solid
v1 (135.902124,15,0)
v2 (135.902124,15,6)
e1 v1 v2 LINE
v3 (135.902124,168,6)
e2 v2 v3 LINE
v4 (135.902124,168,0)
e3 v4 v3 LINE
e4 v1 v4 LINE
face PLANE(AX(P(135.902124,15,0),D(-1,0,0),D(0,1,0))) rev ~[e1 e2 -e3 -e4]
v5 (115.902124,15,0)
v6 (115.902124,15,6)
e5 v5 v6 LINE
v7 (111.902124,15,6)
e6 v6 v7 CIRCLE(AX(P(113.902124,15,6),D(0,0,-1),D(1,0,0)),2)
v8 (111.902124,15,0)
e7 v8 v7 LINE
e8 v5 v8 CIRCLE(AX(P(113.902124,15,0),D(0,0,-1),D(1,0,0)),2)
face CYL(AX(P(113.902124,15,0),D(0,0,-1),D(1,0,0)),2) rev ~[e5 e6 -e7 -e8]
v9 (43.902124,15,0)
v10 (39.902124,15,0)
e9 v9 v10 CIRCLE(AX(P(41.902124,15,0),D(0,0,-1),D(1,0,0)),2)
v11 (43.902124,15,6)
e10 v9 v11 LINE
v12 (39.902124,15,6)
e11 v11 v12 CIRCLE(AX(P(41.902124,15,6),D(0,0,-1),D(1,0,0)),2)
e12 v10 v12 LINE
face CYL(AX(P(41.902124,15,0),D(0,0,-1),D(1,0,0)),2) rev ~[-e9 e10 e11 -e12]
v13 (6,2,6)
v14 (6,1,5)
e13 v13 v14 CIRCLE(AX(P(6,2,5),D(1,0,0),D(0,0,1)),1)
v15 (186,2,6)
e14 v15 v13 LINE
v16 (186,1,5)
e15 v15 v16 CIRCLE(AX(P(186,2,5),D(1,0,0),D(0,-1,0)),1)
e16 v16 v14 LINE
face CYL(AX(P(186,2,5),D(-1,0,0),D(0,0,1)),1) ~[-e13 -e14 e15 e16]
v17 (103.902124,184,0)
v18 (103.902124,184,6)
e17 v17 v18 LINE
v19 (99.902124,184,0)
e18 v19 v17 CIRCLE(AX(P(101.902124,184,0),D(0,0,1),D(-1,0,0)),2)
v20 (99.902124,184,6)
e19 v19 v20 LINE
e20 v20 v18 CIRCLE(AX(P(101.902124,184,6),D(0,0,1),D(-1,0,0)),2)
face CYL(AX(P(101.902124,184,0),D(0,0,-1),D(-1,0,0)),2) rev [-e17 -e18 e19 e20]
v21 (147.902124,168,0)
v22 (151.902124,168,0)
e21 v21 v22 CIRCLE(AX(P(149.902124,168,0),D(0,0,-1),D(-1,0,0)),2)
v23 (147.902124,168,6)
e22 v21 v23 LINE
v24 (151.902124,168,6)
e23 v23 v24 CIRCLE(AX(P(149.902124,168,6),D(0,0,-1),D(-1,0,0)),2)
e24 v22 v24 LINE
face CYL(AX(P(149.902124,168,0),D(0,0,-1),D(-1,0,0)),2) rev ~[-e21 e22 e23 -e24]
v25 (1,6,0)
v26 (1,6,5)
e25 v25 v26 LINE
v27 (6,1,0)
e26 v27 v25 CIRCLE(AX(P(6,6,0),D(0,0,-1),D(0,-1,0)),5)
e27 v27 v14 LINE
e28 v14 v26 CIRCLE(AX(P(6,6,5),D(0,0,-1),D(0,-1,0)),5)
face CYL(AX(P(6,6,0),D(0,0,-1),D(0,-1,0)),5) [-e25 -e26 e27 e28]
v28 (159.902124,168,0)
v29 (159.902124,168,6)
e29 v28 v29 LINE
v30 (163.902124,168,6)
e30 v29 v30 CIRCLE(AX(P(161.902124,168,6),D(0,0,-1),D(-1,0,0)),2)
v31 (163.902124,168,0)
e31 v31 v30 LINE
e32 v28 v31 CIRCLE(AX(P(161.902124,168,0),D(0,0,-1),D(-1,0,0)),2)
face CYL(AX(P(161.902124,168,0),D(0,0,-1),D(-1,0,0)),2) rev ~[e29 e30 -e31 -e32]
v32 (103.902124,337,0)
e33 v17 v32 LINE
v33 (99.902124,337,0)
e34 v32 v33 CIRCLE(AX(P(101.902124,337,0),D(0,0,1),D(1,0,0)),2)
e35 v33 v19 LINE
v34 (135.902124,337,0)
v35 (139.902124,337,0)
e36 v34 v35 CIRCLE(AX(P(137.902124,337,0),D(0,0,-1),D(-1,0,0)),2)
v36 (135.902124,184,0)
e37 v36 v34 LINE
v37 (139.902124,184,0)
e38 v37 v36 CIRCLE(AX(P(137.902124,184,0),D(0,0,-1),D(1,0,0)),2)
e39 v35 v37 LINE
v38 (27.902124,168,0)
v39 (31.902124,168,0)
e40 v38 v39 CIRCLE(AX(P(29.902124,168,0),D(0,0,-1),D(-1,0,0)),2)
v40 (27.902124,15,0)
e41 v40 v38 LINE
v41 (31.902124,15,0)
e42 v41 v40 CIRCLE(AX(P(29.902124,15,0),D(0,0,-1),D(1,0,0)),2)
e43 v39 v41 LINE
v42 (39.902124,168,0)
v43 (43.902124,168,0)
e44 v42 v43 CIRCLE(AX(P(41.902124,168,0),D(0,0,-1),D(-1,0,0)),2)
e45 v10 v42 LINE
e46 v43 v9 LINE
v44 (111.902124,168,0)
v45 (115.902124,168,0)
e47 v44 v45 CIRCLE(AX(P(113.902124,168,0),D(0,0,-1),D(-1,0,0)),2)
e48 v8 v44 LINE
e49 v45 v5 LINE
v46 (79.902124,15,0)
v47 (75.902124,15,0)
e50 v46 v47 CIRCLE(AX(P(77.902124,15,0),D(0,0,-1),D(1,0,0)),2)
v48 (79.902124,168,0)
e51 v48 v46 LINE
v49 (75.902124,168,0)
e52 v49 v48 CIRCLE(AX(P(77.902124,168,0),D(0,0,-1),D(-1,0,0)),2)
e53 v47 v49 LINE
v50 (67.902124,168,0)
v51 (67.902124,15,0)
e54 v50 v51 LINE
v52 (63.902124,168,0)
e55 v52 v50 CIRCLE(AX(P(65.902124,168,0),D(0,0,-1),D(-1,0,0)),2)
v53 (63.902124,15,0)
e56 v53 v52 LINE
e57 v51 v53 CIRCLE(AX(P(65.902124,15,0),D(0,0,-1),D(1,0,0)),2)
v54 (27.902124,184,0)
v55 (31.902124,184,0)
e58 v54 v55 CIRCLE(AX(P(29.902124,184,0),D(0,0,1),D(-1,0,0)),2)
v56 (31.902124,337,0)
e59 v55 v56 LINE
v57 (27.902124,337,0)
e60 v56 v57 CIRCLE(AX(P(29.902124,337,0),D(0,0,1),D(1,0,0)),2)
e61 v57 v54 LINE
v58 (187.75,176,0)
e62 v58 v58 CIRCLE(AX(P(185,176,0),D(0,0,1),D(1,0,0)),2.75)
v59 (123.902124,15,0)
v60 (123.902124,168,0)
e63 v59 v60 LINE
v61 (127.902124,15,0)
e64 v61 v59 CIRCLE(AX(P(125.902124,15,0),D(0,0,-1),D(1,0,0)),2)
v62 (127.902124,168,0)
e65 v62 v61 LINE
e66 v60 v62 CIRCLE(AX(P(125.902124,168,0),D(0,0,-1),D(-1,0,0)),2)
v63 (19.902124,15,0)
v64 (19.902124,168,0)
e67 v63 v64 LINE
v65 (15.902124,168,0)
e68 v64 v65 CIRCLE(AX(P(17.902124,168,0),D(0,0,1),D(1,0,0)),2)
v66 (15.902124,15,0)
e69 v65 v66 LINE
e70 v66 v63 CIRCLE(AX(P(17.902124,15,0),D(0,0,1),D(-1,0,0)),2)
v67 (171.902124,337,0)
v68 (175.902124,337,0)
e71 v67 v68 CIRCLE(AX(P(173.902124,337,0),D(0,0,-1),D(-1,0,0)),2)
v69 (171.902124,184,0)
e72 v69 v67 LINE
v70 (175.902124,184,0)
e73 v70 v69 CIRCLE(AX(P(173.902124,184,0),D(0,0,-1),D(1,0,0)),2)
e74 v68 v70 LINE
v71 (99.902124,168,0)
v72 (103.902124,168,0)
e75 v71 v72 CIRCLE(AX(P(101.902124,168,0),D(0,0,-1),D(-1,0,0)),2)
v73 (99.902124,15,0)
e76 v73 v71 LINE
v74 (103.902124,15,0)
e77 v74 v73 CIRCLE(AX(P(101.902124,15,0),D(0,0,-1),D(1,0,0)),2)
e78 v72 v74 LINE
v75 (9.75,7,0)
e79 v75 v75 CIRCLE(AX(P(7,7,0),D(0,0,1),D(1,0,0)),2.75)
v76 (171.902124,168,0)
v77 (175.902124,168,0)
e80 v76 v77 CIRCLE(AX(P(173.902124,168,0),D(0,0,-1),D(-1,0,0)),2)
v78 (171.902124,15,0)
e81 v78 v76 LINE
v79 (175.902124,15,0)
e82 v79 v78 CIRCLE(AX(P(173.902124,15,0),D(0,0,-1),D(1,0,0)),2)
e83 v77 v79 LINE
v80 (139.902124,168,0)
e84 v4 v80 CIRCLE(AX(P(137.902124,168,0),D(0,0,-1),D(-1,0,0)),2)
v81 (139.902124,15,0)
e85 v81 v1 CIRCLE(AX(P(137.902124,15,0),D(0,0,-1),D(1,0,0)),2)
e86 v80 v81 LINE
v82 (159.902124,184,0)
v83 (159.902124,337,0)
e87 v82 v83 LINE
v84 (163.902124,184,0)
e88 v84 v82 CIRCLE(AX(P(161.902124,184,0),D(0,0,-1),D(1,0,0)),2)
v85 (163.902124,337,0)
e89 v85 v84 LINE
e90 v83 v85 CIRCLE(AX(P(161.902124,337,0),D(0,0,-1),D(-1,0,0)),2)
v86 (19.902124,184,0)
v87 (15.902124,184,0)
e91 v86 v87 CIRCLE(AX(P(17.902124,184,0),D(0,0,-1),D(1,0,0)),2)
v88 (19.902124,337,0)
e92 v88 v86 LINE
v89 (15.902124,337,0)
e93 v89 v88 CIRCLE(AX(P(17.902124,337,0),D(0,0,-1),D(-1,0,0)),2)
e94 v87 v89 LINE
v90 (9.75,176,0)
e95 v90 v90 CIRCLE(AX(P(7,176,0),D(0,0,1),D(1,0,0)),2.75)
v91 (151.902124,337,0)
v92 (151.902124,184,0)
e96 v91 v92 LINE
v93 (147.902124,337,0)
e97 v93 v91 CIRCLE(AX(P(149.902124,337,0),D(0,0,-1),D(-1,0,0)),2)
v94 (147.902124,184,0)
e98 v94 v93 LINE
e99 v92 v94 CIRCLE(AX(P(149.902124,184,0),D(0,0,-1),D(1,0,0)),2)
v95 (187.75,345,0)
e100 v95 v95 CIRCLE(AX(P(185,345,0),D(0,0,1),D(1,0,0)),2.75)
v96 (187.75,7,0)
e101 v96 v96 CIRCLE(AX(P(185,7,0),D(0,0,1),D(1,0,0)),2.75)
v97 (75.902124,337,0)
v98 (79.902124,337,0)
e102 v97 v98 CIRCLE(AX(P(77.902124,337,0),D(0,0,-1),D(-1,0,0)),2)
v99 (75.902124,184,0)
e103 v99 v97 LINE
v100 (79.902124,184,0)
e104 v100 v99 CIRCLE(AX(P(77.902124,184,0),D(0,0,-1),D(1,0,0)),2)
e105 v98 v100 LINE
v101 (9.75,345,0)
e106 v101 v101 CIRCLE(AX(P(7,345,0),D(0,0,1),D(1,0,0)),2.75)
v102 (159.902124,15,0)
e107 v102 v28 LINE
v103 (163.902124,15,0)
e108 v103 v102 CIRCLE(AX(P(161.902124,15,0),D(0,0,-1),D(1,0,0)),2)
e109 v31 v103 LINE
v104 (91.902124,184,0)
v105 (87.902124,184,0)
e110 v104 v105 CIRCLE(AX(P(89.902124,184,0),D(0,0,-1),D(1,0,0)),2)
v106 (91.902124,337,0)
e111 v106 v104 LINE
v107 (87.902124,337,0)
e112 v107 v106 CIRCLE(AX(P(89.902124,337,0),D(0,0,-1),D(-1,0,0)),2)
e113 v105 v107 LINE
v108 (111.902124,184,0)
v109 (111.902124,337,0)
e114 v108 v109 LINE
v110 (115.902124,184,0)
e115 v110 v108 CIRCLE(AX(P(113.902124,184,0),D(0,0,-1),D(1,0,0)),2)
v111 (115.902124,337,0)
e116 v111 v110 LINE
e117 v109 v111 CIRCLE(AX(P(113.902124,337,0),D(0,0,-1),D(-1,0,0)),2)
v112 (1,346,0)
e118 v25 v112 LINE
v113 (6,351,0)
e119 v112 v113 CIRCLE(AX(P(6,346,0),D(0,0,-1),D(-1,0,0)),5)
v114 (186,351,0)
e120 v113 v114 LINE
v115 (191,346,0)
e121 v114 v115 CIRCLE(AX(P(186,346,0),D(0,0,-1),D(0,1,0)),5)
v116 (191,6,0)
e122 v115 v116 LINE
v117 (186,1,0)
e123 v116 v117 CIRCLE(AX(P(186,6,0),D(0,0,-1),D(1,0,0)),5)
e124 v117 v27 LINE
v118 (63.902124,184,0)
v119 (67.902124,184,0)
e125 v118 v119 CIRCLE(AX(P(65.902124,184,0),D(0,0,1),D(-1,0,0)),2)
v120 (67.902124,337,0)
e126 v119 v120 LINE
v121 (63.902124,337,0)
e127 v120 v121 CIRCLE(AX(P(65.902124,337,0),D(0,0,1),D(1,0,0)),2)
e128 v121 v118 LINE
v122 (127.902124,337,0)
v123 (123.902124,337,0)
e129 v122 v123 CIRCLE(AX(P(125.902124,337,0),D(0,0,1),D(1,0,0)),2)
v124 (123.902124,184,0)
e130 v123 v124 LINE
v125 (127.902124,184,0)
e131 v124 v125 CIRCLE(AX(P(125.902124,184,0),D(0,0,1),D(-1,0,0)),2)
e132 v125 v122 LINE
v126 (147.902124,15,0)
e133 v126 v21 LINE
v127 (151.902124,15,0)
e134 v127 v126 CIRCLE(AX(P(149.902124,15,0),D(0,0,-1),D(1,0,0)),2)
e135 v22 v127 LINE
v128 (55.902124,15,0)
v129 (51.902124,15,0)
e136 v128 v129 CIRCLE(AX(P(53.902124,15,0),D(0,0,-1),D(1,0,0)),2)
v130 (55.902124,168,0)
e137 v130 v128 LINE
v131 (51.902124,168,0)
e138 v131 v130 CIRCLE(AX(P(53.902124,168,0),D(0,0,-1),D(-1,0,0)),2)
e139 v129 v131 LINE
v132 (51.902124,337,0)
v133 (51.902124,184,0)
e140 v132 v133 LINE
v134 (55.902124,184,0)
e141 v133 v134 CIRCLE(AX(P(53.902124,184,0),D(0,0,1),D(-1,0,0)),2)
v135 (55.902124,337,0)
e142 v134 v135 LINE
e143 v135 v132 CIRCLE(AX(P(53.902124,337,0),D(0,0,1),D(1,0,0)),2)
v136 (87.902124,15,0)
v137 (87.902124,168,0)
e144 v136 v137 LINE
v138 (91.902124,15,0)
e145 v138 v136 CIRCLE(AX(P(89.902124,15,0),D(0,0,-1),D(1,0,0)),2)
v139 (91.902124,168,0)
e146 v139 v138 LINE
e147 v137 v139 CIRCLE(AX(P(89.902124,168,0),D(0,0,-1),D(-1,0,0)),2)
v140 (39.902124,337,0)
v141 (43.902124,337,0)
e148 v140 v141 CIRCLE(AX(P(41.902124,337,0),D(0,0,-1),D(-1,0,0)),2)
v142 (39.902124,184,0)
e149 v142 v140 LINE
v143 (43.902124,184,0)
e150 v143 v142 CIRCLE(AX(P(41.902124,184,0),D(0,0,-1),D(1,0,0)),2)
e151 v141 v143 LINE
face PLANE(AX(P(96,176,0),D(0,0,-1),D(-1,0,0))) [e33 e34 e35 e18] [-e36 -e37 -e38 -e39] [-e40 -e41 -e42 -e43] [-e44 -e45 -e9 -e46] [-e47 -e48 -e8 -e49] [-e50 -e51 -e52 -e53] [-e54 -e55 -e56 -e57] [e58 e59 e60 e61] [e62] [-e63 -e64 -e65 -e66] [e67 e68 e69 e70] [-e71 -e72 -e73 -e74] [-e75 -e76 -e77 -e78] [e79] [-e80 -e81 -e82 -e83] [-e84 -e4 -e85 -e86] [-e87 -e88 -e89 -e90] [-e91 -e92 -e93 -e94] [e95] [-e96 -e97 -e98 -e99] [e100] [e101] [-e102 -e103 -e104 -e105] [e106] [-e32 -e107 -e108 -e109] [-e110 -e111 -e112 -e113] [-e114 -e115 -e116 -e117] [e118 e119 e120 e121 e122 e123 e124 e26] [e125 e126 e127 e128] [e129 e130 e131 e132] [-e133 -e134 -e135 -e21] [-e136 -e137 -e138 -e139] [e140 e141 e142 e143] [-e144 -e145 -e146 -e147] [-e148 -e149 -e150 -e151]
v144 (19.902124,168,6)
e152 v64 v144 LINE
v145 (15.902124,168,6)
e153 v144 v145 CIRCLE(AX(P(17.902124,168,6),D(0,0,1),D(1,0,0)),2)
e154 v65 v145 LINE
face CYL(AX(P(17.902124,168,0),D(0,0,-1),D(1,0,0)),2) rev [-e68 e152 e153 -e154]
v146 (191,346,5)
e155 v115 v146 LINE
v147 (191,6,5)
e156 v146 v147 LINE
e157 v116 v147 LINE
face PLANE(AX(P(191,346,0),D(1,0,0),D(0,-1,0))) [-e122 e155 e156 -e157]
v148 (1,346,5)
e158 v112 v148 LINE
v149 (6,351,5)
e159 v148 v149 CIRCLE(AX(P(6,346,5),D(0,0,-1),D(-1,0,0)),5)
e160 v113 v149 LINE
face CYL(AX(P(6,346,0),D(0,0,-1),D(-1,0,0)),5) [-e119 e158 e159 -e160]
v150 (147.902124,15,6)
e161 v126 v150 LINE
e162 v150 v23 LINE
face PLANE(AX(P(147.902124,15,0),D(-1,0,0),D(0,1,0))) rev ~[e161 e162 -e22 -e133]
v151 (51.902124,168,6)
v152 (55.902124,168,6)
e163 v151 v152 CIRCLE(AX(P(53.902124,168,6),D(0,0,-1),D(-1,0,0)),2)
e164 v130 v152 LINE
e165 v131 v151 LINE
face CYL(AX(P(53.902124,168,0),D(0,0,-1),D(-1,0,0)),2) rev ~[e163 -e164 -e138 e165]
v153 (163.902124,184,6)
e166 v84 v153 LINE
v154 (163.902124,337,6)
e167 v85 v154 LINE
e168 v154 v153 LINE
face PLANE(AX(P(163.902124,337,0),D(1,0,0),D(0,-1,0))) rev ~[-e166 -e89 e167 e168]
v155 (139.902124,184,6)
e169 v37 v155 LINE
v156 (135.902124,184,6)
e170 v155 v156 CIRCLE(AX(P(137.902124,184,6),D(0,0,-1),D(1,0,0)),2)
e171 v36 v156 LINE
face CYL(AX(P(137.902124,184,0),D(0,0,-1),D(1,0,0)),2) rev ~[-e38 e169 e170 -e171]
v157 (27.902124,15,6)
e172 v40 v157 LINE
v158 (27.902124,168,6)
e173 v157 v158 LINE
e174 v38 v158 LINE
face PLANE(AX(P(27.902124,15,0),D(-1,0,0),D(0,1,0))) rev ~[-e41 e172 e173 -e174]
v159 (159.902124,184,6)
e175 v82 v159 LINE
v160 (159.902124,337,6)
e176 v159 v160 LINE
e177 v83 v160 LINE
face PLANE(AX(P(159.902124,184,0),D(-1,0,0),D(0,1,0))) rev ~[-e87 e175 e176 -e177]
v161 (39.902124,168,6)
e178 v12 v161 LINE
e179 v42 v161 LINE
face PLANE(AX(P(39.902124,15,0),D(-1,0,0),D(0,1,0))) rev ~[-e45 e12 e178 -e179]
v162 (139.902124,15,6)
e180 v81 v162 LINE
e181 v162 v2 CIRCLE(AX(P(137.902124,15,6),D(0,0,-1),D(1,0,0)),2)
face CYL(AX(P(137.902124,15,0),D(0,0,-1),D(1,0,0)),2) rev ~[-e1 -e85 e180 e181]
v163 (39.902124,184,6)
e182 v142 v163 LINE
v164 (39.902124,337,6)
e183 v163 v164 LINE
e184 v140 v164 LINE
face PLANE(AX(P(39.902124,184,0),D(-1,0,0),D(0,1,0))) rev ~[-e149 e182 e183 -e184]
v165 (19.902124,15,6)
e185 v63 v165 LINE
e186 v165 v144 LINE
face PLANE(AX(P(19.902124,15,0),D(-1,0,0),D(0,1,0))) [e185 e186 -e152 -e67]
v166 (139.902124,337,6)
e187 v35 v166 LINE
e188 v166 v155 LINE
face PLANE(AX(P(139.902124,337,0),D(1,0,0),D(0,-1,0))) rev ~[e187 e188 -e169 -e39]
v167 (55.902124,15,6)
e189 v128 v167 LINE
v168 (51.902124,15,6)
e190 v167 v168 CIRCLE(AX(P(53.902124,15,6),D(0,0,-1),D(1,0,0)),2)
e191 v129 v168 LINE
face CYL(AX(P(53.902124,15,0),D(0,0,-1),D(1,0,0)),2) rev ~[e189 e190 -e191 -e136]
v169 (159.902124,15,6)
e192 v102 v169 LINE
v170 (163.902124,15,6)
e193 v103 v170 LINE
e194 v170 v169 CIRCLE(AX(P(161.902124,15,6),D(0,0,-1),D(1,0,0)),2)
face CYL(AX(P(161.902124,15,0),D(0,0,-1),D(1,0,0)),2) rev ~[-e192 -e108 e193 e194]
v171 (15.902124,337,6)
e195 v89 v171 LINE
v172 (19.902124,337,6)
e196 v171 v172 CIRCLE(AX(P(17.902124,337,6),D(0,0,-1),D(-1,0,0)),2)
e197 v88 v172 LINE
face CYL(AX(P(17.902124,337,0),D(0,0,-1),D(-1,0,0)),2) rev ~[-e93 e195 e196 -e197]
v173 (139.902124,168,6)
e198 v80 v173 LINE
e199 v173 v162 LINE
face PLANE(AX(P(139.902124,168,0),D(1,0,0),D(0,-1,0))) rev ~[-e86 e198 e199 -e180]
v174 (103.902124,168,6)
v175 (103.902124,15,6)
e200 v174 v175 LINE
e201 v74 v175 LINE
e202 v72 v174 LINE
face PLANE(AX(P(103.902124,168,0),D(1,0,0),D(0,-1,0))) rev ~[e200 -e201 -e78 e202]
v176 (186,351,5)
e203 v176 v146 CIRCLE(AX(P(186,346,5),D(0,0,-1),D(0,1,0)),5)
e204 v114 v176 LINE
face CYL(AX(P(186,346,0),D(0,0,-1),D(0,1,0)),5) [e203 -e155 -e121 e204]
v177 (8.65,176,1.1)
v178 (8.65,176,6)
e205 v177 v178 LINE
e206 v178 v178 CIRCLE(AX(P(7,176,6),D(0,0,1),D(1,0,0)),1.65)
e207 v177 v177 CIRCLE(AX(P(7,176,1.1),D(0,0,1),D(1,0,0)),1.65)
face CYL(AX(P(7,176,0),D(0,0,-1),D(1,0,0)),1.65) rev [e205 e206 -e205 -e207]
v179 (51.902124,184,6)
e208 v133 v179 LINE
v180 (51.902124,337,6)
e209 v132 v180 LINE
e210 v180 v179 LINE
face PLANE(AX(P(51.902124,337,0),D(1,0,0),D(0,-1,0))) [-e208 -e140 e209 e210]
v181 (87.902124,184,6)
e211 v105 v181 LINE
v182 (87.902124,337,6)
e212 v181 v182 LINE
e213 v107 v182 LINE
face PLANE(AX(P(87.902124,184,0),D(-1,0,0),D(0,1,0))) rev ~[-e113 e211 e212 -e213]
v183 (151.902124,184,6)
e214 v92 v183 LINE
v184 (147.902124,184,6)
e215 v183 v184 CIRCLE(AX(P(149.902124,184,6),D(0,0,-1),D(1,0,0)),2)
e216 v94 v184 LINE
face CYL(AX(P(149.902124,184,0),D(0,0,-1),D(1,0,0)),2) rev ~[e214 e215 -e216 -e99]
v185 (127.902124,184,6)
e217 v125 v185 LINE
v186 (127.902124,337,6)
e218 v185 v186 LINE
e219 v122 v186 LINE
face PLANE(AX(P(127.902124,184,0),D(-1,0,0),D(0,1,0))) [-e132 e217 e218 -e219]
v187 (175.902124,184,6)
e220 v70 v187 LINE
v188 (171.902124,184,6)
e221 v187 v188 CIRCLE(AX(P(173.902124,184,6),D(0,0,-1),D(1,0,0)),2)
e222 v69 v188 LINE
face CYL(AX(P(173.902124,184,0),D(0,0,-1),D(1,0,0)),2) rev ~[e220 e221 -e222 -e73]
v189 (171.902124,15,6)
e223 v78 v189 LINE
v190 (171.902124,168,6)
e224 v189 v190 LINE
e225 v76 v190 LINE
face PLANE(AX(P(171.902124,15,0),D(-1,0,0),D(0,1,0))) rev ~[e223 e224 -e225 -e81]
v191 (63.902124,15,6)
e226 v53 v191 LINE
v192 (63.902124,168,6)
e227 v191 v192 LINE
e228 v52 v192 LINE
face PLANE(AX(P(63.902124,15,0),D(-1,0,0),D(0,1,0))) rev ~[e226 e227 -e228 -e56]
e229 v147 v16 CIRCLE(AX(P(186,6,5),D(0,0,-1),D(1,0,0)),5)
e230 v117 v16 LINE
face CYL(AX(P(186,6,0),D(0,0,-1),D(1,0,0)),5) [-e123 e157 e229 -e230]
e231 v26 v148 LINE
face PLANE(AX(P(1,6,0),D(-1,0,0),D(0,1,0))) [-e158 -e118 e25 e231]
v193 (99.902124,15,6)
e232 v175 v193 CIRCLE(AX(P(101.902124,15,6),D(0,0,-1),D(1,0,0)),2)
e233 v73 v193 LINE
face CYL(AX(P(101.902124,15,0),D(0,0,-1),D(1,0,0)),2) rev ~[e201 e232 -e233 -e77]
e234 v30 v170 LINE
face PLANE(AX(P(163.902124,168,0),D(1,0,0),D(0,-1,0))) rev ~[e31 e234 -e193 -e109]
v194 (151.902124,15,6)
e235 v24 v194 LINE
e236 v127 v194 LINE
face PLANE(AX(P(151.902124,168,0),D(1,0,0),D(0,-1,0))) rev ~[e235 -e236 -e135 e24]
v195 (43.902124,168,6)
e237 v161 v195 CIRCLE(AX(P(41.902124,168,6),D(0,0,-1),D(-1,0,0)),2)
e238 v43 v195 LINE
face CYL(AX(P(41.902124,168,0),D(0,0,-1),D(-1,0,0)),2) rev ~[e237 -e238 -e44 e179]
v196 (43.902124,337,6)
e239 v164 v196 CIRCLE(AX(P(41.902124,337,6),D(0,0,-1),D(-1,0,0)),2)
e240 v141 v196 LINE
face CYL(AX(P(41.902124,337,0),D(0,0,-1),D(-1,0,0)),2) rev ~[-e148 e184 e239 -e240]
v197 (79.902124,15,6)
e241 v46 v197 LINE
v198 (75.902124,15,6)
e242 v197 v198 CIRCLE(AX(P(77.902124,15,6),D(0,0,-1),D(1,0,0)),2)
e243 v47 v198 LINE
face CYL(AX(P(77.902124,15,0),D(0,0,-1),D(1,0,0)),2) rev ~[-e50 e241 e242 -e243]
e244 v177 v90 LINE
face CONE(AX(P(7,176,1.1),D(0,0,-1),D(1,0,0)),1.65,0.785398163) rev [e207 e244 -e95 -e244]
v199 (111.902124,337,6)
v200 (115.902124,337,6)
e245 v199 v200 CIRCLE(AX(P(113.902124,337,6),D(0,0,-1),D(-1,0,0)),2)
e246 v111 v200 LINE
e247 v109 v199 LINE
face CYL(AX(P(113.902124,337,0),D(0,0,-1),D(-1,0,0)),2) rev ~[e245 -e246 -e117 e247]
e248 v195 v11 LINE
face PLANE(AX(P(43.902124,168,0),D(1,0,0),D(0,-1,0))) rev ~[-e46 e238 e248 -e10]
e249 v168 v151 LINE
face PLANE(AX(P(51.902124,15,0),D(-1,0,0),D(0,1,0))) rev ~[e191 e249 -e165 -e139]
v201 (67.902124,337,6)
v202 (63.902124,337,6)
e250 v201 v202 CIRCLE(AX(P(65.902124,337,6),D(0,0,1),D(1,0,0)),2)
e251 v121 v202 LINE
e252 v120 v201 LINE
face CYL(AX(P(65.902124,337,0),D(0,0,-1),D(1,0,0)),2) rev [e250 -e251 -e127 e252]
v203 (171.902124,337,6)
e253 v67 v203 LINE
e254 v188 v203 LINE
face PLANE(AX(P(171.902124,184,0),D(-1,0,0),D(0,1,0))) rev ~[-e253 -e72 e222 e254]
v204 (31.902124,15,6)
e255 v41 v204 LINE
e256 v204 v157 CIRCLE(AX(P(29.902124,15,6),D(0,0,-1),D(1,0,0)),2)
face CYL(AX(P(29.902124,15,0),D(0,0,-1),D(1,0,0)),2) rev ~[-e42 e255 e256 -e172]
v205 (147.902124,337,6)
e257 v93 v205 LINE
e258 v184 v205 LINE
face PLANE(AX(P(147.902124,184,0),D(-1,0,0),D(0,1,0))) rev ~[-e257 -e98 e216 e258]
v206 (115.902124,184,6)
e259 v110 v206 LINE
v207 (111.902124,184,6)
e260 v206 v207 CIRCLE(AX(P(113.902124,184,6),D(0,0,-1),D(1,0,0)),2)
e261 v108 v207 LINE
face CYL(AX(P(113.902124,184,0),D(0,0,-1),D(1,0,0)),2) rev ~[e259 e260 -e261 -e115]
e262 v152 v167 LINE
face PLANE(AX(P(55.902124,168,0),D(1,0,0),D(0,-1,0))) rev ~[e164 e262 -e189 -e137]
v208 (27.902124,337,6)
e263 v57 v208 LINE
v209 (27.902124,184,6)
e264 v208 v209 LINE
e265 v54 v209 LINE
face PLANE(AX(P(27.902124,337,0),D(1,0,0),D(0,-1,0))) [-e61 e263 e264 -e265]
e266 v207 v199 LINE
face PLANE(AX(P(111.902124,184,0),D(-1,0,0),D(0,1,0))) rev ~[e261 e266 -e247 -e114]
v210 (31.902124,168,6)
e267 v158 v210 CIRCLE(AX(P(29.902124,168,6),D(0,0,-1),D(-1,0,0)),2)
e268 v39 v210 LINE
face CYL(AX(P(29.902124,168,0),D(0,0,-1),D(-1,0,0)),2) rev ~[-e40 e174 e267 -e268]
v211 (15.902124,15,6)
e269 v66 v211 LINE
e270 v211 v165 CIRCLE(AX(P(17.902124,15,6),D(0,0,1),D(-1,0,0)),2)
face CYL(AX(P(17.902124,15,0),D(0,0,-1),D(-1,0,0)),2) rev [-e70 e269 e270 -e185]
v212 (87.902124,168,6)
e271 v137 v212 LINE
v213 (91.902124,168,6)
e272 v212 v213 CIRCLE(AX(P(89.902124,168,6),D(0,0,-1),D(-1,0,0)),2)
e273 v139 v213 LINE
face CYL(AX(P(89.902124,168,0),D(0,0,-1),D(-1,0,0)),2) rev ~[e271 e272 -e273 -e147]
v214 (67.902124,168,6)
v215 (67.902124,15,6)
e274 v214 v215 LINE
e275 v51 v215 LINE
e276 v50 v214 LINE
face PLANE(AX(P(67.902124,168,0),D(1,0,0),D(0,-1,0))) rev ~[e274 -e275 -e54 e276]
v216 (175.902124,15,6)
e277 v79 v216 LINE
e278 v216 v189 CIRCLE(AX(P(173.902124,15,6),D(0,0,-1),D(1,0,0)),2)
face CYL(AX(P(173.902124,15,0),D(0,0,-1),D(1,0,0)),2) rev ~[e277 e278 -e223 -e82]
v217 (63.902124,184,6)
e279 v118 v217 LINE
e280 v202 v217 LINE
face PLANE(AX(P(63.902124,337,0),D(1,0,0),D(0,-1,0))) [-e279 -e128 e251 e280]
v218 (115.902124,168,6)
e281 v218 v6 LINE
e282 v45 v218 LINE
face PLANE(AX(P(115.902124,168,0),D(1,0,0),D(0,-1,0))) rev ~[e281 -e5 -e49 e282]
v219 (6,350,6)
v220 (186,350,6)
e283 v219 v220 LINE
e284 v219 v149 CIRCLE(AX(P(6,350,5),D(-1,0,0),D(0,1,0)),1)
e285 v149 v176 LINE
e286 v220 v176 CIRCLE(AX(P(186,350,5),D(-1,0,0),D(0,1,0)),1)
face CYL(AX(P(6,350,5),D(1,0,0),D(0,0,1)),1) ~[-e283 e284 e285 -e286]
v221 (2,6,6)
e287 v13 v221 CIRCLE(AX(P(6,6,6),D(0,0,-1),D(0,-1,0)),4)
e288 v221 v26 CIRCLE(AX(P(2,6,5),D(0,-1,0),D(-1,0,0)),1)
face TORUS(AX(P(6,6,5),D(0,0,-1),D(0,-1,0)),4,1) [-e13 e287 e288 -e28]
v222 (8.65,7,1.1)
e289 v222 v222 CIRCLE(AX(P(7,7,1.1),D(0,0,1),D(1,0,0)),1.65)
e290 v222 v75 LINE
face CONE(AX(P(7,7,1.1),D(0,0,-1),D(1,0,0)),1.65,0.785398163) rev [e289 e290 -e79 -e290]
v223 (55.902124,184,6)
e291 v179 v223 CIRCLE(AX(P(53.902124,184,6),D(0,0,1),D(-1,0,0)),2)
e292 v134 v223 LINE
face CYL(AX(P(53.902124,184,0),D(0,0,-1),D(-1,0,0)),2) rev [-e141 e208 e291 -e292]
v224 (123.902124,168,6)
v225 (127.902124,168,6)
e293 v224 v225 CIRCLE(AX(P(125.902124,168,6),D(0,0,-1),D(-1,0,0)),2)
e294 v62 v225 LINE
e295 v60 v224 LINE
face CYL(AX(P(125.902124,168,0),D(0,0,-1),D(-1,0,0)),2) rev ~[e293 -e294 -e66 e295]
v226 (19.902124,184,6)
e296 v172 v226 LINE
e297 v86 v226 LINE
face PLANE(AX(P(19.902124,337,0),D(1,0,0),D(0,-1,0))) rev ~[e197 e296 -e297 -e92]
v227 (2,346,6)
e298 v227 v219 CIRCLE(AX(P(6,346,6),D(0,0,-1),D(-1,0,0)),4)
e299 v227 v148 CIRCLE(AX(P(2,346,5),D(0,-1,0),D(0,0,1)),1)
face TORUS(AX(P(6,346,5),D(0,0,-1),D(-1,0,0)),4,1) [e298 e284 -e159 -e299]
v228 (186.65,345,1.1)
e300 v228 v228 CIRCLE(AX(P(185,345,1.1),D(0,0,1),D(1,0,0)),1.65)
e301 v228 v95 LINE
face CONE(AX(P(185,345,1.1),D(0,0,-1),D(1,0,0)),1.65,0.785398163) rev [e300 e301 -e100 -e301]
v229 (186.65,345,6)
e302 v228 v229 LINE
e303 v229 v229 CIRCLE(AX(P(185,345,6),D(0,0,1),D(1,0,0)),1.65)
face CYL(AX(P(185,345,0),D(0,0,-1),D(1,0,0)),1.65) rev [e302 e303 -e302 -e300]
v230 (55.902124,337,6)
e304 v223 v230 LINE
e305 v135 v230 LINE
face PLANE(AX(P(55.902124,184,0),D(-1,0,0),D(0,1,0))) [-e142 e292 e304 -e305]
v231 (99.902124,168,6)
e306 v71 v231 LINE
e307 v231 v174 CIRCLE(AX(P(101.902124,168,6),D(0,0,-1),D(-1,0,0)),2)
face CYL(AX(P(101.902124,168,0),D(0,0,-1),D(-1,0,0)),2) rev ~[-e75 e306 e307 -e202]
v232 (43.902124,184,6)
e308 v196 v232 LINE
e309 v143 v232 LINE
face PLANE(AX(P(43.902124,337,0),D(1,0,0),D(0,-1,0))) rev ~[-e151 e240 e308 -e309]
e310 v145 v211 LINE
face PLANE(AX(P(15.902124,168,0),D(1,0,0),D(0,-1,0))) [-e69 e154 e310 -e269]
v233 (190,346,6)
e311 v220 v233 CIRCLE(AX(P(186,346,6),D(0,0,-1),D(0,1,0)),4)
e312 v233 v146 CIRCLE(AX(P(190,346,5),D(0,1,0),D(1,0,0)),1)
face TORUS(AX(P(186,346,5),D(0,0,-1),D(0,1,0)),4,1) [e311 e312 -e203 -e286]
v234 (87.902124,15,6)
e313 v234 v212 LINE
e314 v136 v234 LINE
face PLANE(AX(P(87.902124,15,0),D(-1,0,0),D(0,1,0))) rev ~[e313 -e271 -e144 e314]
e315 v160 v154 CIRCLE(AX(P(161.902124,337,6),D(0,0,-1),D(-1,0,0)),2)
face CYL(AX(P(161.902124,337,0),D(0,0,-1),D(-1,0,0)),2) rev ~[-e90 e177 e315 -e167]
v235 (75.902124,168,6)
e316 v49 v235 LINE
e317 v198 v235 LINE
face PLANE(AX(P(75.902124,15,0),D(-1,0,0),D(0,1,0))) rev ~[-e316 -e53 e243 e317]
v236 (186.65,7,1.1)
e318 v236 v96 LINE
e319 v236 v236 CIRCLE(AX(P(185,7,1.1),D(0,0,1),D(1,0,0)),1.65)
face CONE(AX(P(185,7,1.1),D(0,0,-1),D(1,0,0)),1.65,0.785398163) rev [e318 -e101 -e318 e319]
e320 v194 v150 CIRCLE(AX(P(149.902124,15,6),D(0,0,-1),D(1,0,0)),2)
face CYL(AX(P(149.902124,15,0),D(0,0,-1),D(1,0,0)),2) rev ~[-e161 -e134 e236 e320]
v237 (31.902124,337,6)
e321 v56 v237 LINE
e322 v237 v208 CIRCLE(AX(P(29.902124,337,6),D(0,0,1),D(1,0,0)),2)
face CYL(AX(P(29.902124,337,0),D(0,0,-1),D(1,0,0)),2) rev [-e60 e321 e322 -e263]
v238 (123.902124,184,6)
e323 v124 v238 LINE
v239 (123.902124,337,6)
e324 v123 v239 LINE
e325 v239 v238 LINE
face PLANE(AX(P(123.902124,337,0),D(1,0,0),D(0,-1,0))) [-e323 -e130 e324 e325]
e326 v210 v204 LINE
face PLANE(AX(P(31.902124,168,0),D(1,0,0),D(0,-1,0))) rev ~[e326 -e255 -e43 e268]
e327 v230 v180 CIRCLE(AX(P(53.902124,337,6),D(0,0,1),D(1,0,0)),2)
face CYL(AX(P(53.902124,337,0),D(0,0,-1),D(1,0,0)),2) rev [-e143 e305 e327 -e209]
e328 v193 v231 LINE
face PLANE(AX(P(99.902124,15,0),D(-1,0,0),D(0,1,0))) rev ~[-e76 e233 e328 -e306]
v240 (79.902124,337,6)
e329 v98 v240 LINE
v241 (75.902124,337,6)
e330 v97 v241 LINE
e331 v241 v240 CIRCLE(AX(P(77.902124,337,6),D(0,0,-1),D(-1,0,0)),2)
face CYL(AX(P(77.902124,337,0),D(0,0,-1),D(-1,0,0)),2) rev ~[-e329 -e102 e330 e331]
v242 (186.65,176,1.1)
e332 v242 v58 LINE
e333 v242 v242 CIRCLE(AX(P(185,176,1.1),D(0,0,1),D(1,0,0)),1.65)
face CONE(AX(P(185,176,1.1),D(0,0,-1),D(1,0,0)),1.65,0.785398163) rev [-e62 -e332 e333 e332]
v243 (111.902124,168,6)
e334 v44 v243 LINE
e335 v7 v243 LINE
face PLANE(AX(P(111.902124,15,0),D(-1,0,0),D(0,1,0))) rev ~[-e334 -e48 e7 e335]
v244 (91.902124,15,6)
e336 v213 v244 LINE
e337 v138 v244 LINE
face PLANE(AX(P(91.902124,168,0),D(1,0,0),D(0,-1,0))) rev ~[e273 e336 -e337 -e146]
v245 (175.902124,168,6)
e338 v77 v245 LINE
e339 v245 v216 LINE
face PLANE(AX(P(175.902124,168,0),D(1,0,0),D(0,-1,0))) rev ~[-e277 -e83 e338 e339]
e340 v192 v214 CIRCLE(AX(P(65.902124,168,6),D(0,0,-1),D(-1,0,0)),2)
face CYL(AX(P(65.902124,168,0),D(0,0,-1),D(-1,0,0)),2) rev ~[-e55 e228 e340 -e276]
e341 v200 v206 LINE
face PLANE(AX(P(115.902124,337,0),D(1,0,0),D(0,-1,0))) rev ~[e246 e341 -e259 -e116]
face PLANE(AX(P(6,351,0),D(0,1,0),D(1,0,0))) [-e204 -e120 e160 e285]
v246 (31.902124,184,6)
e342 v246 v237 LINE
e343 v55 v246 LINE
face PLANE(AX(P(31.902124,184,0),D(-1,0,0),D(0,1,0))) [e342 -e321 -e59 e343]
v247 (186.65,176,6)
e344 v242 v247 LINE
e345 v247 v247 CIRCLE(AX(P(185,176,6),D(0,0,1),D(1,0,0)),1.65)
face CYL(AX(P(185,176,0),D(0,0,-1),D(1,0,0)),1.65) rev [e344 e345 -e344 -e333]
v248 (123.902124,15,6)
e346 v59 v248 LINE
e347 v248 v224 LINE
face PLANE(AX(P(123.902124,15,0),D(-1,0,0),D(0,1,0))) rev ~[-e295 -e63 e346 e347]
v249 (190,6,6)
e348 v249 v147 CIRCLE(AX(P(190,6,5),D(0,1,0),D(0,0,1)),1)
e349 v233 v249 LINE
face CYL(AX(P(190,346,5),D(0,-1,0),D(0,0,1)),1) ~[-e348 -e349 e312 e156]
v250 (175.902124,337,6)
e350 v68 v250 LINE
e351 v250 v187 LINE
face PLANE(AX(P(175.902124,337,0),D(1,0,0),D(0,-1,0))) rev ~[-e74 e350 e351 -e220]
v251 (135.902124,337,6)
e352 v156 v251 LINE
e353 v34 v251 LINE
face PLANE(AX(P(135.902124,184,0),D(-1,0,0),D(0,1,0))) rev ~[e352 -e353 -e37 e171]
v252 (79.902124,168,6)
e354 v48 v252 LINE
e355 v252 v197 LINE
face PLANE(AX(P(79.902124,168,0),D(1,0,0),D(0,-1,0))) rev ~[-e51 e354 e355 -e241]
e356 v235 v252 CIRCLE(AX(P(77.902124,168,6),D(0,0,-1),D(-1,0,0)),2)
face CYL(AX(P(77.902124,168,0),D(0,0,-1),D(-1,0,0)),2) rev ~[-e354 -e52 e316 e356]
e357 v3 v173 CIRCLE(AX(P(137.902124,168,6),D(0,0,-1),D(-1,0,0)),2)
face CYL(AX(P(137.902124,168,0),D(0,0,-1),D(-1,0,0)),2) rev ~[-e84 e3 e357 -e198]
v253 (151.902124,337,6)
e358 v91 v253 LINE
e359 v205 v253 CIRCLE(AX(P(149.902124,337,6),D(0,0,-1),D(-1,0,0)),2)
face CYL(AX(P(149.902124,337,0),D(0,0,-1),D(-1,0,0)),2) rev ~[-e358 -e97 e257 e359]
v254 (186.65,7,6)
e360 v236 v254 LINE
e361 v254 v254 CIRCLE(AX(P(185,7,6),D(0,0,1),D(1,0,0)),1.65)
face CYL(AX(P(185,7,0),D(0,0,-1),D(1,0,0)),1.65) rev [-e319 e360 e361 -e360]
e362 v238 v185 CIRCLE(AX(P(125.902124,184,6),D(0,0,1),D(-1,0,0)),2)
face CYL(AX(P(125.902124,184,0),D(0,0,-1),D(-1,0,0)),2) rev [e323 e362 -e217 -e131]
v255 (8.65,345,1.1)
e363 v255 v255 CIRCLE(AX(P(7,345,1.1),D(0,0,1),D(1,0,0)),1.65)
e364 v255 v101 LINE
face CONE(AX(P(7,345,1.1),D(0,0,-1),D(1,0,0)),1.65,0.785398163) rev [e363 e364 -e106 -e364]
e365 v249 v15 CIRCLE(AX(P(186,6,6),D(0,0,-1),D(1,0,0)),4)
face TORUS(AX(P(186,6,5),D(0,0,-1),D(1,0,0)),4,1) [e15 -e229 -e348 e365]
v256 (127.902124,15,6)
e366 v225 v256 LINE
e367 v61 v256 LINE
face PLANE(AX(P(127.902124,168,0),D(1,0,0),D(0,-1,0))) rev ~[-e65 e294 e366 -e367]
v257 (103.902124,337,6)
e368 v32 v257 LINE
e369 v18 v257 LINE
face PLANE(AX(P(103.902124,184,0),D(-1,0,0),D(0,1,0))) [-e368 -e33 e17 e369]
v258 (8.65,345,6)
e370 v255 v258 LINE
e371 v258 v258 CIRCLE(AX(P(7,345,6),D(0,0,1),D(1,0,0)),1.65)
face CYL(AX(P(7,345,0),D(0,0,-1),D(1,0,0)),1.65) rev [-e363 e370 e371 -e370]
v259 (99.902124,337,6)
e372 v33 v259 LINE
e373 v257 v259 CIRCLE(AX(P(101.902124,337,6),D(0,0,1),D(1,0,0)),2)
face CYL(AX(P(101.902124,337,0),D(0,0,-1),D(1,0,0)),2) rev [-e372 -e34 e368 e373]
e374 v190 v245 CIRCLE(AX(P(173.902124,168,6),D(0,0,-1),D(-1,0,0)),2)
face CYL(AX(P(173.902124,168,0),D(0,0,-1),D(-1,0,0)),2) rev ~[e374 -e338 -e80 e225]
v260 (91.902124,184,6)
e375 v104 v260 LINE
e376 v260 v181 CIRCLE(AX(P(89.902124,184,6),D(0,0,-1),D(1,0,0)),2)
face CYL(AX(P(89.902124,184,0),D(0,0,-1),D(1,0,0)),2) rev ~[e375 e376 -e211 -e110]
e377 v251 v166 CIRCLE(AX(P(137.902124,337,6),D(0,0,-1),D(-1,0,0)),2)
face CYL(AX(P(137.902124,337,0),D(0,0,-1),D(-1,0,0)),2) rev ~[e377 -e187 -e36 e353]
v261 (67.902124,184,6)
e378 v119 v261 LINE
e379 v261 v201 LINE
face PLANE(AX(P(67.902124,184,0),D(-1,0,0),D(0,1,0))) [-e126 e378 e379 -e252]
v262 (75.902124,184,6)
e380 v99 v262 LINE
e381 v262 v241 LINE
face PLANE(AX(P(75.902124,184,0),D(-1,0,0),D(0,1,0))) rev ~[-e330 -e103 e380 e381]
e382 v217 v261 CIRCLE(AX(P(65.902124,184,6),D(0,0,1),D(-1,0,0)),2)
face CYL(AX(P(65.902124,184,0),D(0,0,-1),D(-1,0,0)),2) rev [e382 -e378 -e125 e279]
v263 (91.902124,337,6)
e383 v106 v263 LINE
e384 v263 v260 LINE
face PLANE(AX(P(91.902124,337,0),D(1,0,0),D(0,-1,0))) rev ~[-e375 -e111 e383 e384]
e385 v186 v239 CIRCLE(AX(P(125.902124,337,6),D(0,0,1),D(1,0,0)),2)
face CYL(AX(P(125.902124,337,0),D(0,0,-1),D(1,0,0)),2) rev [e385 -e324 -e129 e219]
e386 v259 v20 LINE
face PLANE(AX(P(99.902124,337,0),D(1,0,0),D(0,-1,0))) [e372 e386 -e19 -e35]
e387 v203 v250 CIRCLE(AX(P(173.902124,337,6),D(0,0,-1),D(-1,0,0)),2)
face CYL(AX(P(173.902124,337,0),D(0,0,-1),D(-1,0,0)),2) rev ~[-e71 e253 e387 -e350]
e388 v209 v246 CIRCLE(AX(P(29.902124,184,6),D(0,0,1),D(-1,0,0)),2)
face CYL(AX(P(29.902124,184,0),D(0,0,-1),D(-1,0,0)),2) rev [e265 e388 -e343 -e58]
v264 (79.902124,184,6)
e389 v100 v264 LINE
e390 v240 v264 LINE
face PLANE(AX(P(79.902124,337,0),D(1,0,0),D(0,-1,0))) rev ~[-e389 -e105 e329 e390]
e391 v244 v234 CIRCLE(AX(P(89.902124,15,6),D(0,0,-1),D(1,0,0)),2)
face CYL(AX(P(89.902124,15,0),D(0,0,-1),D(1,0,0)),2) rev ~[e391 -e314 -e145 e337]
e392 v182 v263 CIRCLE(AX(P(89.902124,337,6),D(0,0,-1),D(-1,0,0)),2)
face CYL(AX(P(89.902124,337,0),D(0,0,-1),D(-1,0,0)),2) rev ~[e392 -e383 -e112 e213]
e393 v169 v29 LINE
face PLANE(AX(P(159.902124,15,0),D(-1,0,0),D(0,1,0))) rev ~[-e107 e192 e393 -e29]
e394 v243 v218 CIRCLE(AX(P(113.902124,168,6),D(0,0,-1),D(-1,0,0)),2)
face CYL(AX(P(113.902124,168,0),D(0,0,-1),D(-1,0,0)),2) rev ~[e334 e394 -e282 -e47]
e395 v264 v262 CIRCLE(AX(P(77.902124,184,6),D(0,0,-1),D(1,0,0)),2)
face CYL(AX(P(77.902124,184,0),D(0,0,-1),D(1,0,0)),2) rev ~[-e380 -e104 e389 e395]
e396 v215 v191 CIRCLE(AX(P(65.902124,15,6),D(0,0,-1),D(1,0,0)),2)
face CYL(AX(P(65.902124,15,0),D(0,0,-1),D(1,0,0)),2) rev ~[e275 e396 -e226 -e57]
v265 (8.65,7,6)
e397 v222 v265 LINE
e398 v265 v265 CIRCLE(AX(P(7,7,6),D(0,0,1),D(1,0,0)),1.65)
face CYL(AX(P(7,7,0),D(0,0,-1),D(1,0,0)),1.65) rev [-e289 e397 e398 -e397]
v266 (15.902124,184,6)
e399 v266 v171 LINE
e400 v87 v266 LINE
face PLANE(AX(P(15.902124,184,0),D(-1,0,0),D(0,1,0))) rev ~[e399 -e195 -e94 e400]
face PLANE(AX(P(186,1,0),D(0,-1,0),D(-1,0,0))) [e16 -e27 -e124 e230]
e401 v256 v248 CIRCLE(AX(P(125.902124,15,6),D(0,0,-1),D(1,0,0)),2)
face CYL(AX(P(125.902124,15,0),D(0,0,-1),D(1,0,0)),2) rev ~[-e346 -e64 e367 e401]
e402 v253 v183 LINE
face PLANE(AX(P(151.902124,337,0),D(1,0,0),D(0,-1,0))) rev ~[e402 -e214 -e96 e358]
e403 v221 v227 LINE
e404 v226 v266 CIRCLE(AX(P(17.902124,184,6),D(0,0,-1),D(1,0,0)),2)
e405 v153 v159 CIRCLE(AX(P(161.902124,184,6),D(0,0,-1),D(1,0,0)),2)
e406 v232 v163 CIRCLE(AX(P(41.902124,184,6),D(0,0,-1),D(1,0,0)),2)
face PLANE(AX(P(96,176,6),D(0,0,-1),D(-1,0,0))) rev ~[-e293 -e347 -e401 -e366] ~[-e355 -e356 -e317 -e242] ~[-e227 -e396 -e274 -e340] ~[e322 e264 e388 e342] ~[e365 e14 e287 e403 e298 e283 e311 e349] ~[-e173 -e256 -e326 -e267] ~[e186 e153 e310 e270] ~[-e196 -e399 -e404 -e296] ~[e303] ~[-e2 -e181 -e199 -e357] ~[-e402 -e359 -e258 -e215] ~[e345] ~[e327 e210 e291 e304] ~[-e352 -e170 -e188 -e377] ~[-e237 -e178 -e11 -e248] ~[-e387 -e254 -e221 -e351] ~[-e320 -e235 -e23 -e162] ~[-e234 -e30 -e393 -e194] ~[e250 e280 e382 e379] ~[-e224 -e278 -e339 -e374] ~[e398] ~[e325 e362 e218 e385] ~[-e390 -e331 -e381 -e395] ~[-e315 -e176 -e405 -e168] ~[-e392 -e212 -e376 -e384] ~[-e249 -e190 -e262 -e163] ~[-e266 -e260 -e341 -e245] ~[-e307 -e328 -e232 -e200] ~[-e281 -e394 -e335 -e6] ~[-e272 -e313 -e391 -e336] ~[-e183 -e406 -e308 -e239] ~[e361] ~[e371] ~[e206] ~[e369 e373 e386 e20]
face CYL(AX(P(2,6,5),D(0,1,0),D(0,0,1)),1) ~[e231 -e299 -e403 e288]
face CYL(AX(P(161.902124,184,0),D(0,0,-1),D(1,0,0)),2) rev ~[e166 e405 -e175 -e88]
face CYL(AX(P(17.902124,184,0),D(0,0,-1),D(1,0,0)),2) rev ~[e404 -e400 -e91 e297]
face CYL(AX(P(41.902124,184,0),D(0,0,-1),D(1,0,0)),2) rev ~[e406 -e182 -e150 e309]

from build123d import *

# Parameters (mm, degrees)
SKETCH1_R           = 1.65
BOSS_EXTRUDE1_DEPTH = 6
CHAMFER1_SIZE       = 1.1
FILLET1_R           = 1


with BuildPart() as part:
    # Sketch1 → Boss-Extrude1 (new body)
    with BuildSketch(Plane.XY):
        with BuildLine():
            Line((1, 6), (1, 346))
            ThreePointArc((1, 346), (2.464466094, 349.535533906), (6, 351))
            Line((6, 351), (186, 351))
            ThreePointArc((186, 351), (189.535533906, 349.535533906), (191, 346))
            Line((191, 346), (191, 6))
            ThreePointArc((191, 6), (189.535533906, 2.464466094), (186, 1))
            Line((186, 1), (6, 1))
            ThreePointArc((6, 1), (2.464466094, 2.464466094), (1, 6))
        make_face()
        with Locations((7, 345)):
            Circle(SKETCH1_R, mode=Mode.SUBTRACT)
        with Locations((185, 345)):
            Circle(SKETCH1_R, mode=Mode.SUBTRACT)
        with Locations((7, 7)):
            Circle(SKETCH1_R, mode=Mode.SUBTRACT)
        with Locations((185, 7)):
            Circle(SKETCH1_R, mode=Mode.SUBTRACT)
        with Locations((7, 176)):
            Circle(SKETCH1_R, mode=Mode.SUBTRACT)
        with Locations((185, 176)):
            Circle(SKETCH1_R, mode=Mode.SUBTRACT)
        with BuildLine():
            Line((123.902123688, 337), (123.902123688, 184))
            ThreePointArc((123.902123688, 184), (125.902123688, 182), (127.902123688, 184))
            Line((127.902123688, 184), (127.902123688, 337))
            ThreePointArc((127.902123688, 337), (125.902123688, 339), (123.902123688, 337))
        make_face(mode=Mode.SUBTRACT)
        with BuildLine():
            ThreePointArc((55.902123688, 337), (53.902123688, 339), (51.902123688, 337))
            Line((51.902123688, 337), (51.902123688, 184))
            ThreePointArc((51.902123688, 184), (53.902123688, 182), (55.902123688, 184))
            Line((55.902123688, 184), (55.902123688, 337))
        make_face(mode=Mode.SUBTRACT)
        with BuildLine():
            Line((175.902123688, 337), (175.902123688, 184))
            ThreePointArc((175.902123688, 184), (173.902123688, 182), (171.902123688, 184))
            Line((171.902123688, 184), (171.902123688, 337))
            ThreePointArc((171.902123688, 337), (173.902123688, 339), (175.902123688, 337))
        make_face(mode=Mode.SUBTRACT)
        with BuildLine():
            Line((163.902123688, 337), (163.902123688, 184))
            ThreePointArc((163.902123688, 184), (161.902123688, 182), (159.902123688, 184))
            Line((159.902123688, 184), (159.902123688, 337))
            ThreePointArc((159.902123688, 337), (161.902123688, 339), (163.902123688, 337))
        make_face(mode=Mode.SUBTRACT)
        with BuildLine():
            Line((151.902123688, 337), (151.902123688, 184))
            ThreePointArc((151.902123688, 184), (149.902123688, 182), (147.902123688, 184))
            Line((147.902123688, 184), (147.902123688, 337))
            ThreePointArc((147.902123688, 337), (149.902123688, 339), (151.902123688, 337))
        make_face(mode=Mode.SUBTRACT)
        with BuildLine():
            Line((139.902123688, 337), (139.902123688, 184))
            ThreePointArc((139.902123688, 184), (137.902123688, 182), (135.902123688, 184))
            Line((135.902123688, 184), (135.902123688, 337))
            ThreePointArc((135.902123688, 337), (137.902123688, 339), (139.902123688, 337))
        make_face(mode=Mode.SUBTRACT)
        with BuildLine():
            Line((115.902123688, 337), (115.902123688, 184))
            ThreePointArc((115.902123688, 184), (113.902123688, 182), (111.902123688, 184))
            Line((111.902123688, 184), (111.902123688, 337))
            ThreePointArc((111.902123688, 337), (113.902123688, 339), (115.902123688, 337))
        make_face(mode=Mode.SUBTRACT)
        with BuildLine():
            Line((99.902123688, 337), (99.902123688, 184))
            ThreePointArc((99.902123688, 184), (101.902123688, 182), (103.902123688, 184))
            Line((103.902123688, 184), (103.902123688, 337))
            ThreePointArc((103.902123688, 337), (101.902123688, 339), (99.902123688, 337))
        make_face(mode=Mode.SUBTRACT)
        with BuildLine():
            Line((91.902123688, 337), (91.902123688, 184))
            ThreePointArc((91.902123688, 184), (89.902123688, 182), (87.902123688, 184))
            Line((87.902123688, 184), (87.902123688, 337))
            ThreePointArc((87.902123688, 337), (89.902123688, 339), (91.902123688, 337))
        make_face(mode=Mode.SUBTRACT)
        with BuildLine():
            Line((79.902123688, 337), (79.902123688, 184))
            ThreePointArc((79.902123688, 184), (77.902123688, 182), (75.902123688, 184))
            Line((75.902123688, 184), (75.902123688, 337))
            ThreePointArc((75.902123688, 337), (77.902123688, 339), (79.902123688, 337))
        make_face(mode=Mode.SUBTRACT)
        with BuildLine():
            Line((63.902123688, 337), (63.902123688, 184))
            ThreePointArc((63.902123688, 184), (65.902123688, 182), (67.902123688, 184))
            Line((67.902123688, 184), (67.902123688, 337))
            ThreePointArc((67.902123688, 337), (65.902123688, 339), (63.902123688, 337))
        make_face(mode=Mode.SUBTRACT)
        with BuildLine():
            Line((43.902123688, 337), (43.902123688, 184))
            ThreePointArc((43.902123688, 184), (41.902123688, 182), (39.902123688, 184))
            Line((39.902123688, 184), (39.902123688, 337))
            ThreePointArc((39.902123688, 337), (41.902123688, 339), (43.902123688, 337))
        make_face(mode=Mode.SUBTRACT)
        with BuildLine():
            Line((19.902123688, 337), (19.902123688, 184))
            ThreePointArc((19.902123688, 184), (17.902123688, 182), (15.902123688, 184))
            Line((15.902123688, 184), (15.902123688, 337))
            ThreePointArc((15.902123688, 337), (17.902123688, 339), (19.902123688, 337))
        make_face(mode=Mode.SUBTRACT)
        with BuildLine():
            Line((27.902123688, 337), (27.902123688, 184))
            ThreePointArc((27.902123688, 184), (29.902123688, 182), (31.902123688, 184))
            Line((31.902123688, 184), (31.902123688, 337))
            ThreePointArc((31.902123688, 337), (29.902123688, 339), (27.902123688, 337))
        make_face(mode=Mode.SUBTRACT)
        with BuildLine():
            Line((171.902123688, 15), (171.902123688, 168))
            ThreePointArc((171.902123688, 168), (173.902123688, 170), (175.902123688, 168))
            Line((175.902123688, 168), (175.902123688, 15))
            ThreePointArc((175.902123688, 15), (173.902123688, 13), (171.902123688, 15))
        make_face(mode=Mode.SUBTRACT)
        with BuildLine():
            Line((159.902123688, 15), (159.902123688, 168))
            ThreePointArc((159.902123688, 168), (161.902123688, 170), (163.902123688, 168))
            Line((163.902123688, 168), (163.902123688, 15))
            ThreePointArc((163.902123688, 15), (161.902123688, 13), (159.902123688, 15))
        make_face(mode=Mode.SUBTRACT)
        with BuildLine():
            Line((147.902123688, 15), (147.902123688, 168))
            ThreePointArc((147.902123688, 168), (149.902123688, 170), (151.902123688, 168))
            Line((151.902123688, 168), (151.902123688, 15))
            ThreePointArc((151.902123688, 15), (149.902123688, 13), (147.902123688, 15))
        make_face(mode=Mode.SUBTRACT)
        with BuildLine():
            Line((135.902123688, 15), (135.902123688, 168))
            ThreePointArc((135.902123688, 168), (137.902123688, 170), (139.902123688, 168))
            Line((139.902123688, 168), (139.902123688, 15))
            ThreePointArc((139.902123688, 15), (137.902123688, 13), (135.902123688, 15))
        make_face(mode=Mode.SUBTRACT)
        with BuildLine():
            Line((123.902123688, 15), (123.902123688, 168))
            ThreePointArc((123.902123688, 168), (125.902123688, 170), (127.902123688, 168))
            Line((127.902123688, 168), (127.902123688, 15))
            ThreePointArc((127.902123688, 15), (125.902123688, 13), (123.902123688, 15))
        make_face(mode=Mode.SUBTRACT)
        with BuildLine():
            Line((111.902123688, 15), (111.902123688, 168))
            ThreePointArc((111.902123688, 168), (113.902123688, 170), (115.902123688, 168))
            Line((115.902123688, 168), (115.902123688, 15))
            ThreePointArc((115.902123688, 15), (113.902123688, 13), (111.902123688, 15))
        make_face(mode=Mode.SUBTRACT)
        with BuildLine():
            Line((99.902123688, 15), (99.902123688, 168))
            ThreePointArc((99.902123688, 168), (101.902123688, 170), (103.902123688, 168))
            Line((103.902123688, 168), (103.902123688, 15))
            ThreePointArc((103.902123688, 15), (101.902123688, 13), (99.902123688, 15))
        make_face(mode=Mode.SUBTRACT)
        with BuildLine():
            Line((87.902123688, 15), (87.902123688, 168))
            ThreePointArc((87.902123688, 168), (89.902123688, 170), (91.902123688, 168))
            Line((91.902123688, 168), (91.902123688, 15))
            ThreePointArc((91.902123688, 15), (89.902123688, 13), (87.902123688, 15))
        make_face(mode=Mode.SUBTRACT)
        with BuildLine():
            Line((75.902123688, 15), (75.902123688, 168))
            ThreePointArc((75.902123688, 168), (77.902123688, 170), (79.902123688, 168))
            Line((79.902123688, 168), (79.902123688, 15))
            ThreePointArc((79.902123688, 15), (77.902123688, 13), (75.902123688, 15))
        make_face(mode=Mode.SUBTRACT)
        with BuildLine():
            Line((63.902123688, 15), (63.902123688, 168))
            ThreePointArc((63.902123688, 168), (65.902123688, 170), (67.902123688, 168))
            Line((67.902123688, 168), (67.902123688, 15))
            ThreePointArc((67.902123688, 15), (65.902123688, 13), (63.902123688, 15))
        make_face(mode=Mode.SUBTRACT)
        with BuildLine():
            Line((51.902123688, 15), (51.902123688, 168))
            ThreePointArc((51.902123688, 168), (53.902123688, 170), (55.902123688, 168))
            Line((55.902123688, 168), (55.902123688, 15))
            ThreePointArc((55.902123688, 15), (53.902123688, 13), (51.902123688, 15))
        make_face(mode=Mode.SUBTRACT)
        with BuildLine():
            Line((39.902123688, 15), (39.902123688, 168))
            ThreePointArc((39.902123688, 168), (41.902123688, 170), (43.902123688, 168))
            Line((43.902123688, 168), (43.902123688, 15))
            ThreePointArc((43.902123688, 15), (41.902123688, 13), (39.902123688, 15))
        make_face(mode=Mode.SUBTRACT)
        with BuildLine():
            Line((27.902123688, 15), (27.902123688, 168))
            ThreePointArc((27.902123688, 168), (29.902123688, 170), (31.902123688, 168))
            Line((31.902123688, 168), (31.902123688, 15))
            ThreePointArc((31.902123688, 15), (29.902123688, 13), (27.902123688, 15))
        make_face(mode=Mode.SUBTRACT)
        with BuildLine():
            Line((19.902123688, 15), (19.902123688, 168))
            ThreePointArc((19.902123688, 168), (17.902123688, 170), (15.902123688, 168))
            Line((15.902123688, 168), (15.902123688, 15))
            ThreePointArc((15.902123688, 15), (17.902123688, 13), (19.902123688, 15))
        make_face(mode=Mode.SUBTRACT)
    extrude(amount=BOSS_EXTRUDE1_DEPTH)

    # Chamfer1
    chamfer1_edges = [part.edges().sort_by_distance(p)[0] for p in [
        (5.35, 345, 0),
        (183.35, 345, 0),
        (5.35, 7, 0),
        (183.35, 7, 0),
        (5.35, 176, 0),
        (183.35, 176, 0),
    ]]
    chamfer(chamfer1_edges, length=CHAMFER1_SIZE)

    # Fillet1
    fillet1_edges = [part.edges().sort_by_distance(p)[0] for p in [
        (189.535533906, 349.535533906, 6),
        (96, 351, 6),
        (2.464466094, 349.535533906, 6),
        (1, 176, 6),
        (2.464466094, 2.464466094, 6),
        (96, 1, 6),
        (189.535533906, 2.464466094, 6),
        (191, 176, 6),
    ]]
    fillet(fillet1_edges, radius=FILLET1_R)


solid = part.part
